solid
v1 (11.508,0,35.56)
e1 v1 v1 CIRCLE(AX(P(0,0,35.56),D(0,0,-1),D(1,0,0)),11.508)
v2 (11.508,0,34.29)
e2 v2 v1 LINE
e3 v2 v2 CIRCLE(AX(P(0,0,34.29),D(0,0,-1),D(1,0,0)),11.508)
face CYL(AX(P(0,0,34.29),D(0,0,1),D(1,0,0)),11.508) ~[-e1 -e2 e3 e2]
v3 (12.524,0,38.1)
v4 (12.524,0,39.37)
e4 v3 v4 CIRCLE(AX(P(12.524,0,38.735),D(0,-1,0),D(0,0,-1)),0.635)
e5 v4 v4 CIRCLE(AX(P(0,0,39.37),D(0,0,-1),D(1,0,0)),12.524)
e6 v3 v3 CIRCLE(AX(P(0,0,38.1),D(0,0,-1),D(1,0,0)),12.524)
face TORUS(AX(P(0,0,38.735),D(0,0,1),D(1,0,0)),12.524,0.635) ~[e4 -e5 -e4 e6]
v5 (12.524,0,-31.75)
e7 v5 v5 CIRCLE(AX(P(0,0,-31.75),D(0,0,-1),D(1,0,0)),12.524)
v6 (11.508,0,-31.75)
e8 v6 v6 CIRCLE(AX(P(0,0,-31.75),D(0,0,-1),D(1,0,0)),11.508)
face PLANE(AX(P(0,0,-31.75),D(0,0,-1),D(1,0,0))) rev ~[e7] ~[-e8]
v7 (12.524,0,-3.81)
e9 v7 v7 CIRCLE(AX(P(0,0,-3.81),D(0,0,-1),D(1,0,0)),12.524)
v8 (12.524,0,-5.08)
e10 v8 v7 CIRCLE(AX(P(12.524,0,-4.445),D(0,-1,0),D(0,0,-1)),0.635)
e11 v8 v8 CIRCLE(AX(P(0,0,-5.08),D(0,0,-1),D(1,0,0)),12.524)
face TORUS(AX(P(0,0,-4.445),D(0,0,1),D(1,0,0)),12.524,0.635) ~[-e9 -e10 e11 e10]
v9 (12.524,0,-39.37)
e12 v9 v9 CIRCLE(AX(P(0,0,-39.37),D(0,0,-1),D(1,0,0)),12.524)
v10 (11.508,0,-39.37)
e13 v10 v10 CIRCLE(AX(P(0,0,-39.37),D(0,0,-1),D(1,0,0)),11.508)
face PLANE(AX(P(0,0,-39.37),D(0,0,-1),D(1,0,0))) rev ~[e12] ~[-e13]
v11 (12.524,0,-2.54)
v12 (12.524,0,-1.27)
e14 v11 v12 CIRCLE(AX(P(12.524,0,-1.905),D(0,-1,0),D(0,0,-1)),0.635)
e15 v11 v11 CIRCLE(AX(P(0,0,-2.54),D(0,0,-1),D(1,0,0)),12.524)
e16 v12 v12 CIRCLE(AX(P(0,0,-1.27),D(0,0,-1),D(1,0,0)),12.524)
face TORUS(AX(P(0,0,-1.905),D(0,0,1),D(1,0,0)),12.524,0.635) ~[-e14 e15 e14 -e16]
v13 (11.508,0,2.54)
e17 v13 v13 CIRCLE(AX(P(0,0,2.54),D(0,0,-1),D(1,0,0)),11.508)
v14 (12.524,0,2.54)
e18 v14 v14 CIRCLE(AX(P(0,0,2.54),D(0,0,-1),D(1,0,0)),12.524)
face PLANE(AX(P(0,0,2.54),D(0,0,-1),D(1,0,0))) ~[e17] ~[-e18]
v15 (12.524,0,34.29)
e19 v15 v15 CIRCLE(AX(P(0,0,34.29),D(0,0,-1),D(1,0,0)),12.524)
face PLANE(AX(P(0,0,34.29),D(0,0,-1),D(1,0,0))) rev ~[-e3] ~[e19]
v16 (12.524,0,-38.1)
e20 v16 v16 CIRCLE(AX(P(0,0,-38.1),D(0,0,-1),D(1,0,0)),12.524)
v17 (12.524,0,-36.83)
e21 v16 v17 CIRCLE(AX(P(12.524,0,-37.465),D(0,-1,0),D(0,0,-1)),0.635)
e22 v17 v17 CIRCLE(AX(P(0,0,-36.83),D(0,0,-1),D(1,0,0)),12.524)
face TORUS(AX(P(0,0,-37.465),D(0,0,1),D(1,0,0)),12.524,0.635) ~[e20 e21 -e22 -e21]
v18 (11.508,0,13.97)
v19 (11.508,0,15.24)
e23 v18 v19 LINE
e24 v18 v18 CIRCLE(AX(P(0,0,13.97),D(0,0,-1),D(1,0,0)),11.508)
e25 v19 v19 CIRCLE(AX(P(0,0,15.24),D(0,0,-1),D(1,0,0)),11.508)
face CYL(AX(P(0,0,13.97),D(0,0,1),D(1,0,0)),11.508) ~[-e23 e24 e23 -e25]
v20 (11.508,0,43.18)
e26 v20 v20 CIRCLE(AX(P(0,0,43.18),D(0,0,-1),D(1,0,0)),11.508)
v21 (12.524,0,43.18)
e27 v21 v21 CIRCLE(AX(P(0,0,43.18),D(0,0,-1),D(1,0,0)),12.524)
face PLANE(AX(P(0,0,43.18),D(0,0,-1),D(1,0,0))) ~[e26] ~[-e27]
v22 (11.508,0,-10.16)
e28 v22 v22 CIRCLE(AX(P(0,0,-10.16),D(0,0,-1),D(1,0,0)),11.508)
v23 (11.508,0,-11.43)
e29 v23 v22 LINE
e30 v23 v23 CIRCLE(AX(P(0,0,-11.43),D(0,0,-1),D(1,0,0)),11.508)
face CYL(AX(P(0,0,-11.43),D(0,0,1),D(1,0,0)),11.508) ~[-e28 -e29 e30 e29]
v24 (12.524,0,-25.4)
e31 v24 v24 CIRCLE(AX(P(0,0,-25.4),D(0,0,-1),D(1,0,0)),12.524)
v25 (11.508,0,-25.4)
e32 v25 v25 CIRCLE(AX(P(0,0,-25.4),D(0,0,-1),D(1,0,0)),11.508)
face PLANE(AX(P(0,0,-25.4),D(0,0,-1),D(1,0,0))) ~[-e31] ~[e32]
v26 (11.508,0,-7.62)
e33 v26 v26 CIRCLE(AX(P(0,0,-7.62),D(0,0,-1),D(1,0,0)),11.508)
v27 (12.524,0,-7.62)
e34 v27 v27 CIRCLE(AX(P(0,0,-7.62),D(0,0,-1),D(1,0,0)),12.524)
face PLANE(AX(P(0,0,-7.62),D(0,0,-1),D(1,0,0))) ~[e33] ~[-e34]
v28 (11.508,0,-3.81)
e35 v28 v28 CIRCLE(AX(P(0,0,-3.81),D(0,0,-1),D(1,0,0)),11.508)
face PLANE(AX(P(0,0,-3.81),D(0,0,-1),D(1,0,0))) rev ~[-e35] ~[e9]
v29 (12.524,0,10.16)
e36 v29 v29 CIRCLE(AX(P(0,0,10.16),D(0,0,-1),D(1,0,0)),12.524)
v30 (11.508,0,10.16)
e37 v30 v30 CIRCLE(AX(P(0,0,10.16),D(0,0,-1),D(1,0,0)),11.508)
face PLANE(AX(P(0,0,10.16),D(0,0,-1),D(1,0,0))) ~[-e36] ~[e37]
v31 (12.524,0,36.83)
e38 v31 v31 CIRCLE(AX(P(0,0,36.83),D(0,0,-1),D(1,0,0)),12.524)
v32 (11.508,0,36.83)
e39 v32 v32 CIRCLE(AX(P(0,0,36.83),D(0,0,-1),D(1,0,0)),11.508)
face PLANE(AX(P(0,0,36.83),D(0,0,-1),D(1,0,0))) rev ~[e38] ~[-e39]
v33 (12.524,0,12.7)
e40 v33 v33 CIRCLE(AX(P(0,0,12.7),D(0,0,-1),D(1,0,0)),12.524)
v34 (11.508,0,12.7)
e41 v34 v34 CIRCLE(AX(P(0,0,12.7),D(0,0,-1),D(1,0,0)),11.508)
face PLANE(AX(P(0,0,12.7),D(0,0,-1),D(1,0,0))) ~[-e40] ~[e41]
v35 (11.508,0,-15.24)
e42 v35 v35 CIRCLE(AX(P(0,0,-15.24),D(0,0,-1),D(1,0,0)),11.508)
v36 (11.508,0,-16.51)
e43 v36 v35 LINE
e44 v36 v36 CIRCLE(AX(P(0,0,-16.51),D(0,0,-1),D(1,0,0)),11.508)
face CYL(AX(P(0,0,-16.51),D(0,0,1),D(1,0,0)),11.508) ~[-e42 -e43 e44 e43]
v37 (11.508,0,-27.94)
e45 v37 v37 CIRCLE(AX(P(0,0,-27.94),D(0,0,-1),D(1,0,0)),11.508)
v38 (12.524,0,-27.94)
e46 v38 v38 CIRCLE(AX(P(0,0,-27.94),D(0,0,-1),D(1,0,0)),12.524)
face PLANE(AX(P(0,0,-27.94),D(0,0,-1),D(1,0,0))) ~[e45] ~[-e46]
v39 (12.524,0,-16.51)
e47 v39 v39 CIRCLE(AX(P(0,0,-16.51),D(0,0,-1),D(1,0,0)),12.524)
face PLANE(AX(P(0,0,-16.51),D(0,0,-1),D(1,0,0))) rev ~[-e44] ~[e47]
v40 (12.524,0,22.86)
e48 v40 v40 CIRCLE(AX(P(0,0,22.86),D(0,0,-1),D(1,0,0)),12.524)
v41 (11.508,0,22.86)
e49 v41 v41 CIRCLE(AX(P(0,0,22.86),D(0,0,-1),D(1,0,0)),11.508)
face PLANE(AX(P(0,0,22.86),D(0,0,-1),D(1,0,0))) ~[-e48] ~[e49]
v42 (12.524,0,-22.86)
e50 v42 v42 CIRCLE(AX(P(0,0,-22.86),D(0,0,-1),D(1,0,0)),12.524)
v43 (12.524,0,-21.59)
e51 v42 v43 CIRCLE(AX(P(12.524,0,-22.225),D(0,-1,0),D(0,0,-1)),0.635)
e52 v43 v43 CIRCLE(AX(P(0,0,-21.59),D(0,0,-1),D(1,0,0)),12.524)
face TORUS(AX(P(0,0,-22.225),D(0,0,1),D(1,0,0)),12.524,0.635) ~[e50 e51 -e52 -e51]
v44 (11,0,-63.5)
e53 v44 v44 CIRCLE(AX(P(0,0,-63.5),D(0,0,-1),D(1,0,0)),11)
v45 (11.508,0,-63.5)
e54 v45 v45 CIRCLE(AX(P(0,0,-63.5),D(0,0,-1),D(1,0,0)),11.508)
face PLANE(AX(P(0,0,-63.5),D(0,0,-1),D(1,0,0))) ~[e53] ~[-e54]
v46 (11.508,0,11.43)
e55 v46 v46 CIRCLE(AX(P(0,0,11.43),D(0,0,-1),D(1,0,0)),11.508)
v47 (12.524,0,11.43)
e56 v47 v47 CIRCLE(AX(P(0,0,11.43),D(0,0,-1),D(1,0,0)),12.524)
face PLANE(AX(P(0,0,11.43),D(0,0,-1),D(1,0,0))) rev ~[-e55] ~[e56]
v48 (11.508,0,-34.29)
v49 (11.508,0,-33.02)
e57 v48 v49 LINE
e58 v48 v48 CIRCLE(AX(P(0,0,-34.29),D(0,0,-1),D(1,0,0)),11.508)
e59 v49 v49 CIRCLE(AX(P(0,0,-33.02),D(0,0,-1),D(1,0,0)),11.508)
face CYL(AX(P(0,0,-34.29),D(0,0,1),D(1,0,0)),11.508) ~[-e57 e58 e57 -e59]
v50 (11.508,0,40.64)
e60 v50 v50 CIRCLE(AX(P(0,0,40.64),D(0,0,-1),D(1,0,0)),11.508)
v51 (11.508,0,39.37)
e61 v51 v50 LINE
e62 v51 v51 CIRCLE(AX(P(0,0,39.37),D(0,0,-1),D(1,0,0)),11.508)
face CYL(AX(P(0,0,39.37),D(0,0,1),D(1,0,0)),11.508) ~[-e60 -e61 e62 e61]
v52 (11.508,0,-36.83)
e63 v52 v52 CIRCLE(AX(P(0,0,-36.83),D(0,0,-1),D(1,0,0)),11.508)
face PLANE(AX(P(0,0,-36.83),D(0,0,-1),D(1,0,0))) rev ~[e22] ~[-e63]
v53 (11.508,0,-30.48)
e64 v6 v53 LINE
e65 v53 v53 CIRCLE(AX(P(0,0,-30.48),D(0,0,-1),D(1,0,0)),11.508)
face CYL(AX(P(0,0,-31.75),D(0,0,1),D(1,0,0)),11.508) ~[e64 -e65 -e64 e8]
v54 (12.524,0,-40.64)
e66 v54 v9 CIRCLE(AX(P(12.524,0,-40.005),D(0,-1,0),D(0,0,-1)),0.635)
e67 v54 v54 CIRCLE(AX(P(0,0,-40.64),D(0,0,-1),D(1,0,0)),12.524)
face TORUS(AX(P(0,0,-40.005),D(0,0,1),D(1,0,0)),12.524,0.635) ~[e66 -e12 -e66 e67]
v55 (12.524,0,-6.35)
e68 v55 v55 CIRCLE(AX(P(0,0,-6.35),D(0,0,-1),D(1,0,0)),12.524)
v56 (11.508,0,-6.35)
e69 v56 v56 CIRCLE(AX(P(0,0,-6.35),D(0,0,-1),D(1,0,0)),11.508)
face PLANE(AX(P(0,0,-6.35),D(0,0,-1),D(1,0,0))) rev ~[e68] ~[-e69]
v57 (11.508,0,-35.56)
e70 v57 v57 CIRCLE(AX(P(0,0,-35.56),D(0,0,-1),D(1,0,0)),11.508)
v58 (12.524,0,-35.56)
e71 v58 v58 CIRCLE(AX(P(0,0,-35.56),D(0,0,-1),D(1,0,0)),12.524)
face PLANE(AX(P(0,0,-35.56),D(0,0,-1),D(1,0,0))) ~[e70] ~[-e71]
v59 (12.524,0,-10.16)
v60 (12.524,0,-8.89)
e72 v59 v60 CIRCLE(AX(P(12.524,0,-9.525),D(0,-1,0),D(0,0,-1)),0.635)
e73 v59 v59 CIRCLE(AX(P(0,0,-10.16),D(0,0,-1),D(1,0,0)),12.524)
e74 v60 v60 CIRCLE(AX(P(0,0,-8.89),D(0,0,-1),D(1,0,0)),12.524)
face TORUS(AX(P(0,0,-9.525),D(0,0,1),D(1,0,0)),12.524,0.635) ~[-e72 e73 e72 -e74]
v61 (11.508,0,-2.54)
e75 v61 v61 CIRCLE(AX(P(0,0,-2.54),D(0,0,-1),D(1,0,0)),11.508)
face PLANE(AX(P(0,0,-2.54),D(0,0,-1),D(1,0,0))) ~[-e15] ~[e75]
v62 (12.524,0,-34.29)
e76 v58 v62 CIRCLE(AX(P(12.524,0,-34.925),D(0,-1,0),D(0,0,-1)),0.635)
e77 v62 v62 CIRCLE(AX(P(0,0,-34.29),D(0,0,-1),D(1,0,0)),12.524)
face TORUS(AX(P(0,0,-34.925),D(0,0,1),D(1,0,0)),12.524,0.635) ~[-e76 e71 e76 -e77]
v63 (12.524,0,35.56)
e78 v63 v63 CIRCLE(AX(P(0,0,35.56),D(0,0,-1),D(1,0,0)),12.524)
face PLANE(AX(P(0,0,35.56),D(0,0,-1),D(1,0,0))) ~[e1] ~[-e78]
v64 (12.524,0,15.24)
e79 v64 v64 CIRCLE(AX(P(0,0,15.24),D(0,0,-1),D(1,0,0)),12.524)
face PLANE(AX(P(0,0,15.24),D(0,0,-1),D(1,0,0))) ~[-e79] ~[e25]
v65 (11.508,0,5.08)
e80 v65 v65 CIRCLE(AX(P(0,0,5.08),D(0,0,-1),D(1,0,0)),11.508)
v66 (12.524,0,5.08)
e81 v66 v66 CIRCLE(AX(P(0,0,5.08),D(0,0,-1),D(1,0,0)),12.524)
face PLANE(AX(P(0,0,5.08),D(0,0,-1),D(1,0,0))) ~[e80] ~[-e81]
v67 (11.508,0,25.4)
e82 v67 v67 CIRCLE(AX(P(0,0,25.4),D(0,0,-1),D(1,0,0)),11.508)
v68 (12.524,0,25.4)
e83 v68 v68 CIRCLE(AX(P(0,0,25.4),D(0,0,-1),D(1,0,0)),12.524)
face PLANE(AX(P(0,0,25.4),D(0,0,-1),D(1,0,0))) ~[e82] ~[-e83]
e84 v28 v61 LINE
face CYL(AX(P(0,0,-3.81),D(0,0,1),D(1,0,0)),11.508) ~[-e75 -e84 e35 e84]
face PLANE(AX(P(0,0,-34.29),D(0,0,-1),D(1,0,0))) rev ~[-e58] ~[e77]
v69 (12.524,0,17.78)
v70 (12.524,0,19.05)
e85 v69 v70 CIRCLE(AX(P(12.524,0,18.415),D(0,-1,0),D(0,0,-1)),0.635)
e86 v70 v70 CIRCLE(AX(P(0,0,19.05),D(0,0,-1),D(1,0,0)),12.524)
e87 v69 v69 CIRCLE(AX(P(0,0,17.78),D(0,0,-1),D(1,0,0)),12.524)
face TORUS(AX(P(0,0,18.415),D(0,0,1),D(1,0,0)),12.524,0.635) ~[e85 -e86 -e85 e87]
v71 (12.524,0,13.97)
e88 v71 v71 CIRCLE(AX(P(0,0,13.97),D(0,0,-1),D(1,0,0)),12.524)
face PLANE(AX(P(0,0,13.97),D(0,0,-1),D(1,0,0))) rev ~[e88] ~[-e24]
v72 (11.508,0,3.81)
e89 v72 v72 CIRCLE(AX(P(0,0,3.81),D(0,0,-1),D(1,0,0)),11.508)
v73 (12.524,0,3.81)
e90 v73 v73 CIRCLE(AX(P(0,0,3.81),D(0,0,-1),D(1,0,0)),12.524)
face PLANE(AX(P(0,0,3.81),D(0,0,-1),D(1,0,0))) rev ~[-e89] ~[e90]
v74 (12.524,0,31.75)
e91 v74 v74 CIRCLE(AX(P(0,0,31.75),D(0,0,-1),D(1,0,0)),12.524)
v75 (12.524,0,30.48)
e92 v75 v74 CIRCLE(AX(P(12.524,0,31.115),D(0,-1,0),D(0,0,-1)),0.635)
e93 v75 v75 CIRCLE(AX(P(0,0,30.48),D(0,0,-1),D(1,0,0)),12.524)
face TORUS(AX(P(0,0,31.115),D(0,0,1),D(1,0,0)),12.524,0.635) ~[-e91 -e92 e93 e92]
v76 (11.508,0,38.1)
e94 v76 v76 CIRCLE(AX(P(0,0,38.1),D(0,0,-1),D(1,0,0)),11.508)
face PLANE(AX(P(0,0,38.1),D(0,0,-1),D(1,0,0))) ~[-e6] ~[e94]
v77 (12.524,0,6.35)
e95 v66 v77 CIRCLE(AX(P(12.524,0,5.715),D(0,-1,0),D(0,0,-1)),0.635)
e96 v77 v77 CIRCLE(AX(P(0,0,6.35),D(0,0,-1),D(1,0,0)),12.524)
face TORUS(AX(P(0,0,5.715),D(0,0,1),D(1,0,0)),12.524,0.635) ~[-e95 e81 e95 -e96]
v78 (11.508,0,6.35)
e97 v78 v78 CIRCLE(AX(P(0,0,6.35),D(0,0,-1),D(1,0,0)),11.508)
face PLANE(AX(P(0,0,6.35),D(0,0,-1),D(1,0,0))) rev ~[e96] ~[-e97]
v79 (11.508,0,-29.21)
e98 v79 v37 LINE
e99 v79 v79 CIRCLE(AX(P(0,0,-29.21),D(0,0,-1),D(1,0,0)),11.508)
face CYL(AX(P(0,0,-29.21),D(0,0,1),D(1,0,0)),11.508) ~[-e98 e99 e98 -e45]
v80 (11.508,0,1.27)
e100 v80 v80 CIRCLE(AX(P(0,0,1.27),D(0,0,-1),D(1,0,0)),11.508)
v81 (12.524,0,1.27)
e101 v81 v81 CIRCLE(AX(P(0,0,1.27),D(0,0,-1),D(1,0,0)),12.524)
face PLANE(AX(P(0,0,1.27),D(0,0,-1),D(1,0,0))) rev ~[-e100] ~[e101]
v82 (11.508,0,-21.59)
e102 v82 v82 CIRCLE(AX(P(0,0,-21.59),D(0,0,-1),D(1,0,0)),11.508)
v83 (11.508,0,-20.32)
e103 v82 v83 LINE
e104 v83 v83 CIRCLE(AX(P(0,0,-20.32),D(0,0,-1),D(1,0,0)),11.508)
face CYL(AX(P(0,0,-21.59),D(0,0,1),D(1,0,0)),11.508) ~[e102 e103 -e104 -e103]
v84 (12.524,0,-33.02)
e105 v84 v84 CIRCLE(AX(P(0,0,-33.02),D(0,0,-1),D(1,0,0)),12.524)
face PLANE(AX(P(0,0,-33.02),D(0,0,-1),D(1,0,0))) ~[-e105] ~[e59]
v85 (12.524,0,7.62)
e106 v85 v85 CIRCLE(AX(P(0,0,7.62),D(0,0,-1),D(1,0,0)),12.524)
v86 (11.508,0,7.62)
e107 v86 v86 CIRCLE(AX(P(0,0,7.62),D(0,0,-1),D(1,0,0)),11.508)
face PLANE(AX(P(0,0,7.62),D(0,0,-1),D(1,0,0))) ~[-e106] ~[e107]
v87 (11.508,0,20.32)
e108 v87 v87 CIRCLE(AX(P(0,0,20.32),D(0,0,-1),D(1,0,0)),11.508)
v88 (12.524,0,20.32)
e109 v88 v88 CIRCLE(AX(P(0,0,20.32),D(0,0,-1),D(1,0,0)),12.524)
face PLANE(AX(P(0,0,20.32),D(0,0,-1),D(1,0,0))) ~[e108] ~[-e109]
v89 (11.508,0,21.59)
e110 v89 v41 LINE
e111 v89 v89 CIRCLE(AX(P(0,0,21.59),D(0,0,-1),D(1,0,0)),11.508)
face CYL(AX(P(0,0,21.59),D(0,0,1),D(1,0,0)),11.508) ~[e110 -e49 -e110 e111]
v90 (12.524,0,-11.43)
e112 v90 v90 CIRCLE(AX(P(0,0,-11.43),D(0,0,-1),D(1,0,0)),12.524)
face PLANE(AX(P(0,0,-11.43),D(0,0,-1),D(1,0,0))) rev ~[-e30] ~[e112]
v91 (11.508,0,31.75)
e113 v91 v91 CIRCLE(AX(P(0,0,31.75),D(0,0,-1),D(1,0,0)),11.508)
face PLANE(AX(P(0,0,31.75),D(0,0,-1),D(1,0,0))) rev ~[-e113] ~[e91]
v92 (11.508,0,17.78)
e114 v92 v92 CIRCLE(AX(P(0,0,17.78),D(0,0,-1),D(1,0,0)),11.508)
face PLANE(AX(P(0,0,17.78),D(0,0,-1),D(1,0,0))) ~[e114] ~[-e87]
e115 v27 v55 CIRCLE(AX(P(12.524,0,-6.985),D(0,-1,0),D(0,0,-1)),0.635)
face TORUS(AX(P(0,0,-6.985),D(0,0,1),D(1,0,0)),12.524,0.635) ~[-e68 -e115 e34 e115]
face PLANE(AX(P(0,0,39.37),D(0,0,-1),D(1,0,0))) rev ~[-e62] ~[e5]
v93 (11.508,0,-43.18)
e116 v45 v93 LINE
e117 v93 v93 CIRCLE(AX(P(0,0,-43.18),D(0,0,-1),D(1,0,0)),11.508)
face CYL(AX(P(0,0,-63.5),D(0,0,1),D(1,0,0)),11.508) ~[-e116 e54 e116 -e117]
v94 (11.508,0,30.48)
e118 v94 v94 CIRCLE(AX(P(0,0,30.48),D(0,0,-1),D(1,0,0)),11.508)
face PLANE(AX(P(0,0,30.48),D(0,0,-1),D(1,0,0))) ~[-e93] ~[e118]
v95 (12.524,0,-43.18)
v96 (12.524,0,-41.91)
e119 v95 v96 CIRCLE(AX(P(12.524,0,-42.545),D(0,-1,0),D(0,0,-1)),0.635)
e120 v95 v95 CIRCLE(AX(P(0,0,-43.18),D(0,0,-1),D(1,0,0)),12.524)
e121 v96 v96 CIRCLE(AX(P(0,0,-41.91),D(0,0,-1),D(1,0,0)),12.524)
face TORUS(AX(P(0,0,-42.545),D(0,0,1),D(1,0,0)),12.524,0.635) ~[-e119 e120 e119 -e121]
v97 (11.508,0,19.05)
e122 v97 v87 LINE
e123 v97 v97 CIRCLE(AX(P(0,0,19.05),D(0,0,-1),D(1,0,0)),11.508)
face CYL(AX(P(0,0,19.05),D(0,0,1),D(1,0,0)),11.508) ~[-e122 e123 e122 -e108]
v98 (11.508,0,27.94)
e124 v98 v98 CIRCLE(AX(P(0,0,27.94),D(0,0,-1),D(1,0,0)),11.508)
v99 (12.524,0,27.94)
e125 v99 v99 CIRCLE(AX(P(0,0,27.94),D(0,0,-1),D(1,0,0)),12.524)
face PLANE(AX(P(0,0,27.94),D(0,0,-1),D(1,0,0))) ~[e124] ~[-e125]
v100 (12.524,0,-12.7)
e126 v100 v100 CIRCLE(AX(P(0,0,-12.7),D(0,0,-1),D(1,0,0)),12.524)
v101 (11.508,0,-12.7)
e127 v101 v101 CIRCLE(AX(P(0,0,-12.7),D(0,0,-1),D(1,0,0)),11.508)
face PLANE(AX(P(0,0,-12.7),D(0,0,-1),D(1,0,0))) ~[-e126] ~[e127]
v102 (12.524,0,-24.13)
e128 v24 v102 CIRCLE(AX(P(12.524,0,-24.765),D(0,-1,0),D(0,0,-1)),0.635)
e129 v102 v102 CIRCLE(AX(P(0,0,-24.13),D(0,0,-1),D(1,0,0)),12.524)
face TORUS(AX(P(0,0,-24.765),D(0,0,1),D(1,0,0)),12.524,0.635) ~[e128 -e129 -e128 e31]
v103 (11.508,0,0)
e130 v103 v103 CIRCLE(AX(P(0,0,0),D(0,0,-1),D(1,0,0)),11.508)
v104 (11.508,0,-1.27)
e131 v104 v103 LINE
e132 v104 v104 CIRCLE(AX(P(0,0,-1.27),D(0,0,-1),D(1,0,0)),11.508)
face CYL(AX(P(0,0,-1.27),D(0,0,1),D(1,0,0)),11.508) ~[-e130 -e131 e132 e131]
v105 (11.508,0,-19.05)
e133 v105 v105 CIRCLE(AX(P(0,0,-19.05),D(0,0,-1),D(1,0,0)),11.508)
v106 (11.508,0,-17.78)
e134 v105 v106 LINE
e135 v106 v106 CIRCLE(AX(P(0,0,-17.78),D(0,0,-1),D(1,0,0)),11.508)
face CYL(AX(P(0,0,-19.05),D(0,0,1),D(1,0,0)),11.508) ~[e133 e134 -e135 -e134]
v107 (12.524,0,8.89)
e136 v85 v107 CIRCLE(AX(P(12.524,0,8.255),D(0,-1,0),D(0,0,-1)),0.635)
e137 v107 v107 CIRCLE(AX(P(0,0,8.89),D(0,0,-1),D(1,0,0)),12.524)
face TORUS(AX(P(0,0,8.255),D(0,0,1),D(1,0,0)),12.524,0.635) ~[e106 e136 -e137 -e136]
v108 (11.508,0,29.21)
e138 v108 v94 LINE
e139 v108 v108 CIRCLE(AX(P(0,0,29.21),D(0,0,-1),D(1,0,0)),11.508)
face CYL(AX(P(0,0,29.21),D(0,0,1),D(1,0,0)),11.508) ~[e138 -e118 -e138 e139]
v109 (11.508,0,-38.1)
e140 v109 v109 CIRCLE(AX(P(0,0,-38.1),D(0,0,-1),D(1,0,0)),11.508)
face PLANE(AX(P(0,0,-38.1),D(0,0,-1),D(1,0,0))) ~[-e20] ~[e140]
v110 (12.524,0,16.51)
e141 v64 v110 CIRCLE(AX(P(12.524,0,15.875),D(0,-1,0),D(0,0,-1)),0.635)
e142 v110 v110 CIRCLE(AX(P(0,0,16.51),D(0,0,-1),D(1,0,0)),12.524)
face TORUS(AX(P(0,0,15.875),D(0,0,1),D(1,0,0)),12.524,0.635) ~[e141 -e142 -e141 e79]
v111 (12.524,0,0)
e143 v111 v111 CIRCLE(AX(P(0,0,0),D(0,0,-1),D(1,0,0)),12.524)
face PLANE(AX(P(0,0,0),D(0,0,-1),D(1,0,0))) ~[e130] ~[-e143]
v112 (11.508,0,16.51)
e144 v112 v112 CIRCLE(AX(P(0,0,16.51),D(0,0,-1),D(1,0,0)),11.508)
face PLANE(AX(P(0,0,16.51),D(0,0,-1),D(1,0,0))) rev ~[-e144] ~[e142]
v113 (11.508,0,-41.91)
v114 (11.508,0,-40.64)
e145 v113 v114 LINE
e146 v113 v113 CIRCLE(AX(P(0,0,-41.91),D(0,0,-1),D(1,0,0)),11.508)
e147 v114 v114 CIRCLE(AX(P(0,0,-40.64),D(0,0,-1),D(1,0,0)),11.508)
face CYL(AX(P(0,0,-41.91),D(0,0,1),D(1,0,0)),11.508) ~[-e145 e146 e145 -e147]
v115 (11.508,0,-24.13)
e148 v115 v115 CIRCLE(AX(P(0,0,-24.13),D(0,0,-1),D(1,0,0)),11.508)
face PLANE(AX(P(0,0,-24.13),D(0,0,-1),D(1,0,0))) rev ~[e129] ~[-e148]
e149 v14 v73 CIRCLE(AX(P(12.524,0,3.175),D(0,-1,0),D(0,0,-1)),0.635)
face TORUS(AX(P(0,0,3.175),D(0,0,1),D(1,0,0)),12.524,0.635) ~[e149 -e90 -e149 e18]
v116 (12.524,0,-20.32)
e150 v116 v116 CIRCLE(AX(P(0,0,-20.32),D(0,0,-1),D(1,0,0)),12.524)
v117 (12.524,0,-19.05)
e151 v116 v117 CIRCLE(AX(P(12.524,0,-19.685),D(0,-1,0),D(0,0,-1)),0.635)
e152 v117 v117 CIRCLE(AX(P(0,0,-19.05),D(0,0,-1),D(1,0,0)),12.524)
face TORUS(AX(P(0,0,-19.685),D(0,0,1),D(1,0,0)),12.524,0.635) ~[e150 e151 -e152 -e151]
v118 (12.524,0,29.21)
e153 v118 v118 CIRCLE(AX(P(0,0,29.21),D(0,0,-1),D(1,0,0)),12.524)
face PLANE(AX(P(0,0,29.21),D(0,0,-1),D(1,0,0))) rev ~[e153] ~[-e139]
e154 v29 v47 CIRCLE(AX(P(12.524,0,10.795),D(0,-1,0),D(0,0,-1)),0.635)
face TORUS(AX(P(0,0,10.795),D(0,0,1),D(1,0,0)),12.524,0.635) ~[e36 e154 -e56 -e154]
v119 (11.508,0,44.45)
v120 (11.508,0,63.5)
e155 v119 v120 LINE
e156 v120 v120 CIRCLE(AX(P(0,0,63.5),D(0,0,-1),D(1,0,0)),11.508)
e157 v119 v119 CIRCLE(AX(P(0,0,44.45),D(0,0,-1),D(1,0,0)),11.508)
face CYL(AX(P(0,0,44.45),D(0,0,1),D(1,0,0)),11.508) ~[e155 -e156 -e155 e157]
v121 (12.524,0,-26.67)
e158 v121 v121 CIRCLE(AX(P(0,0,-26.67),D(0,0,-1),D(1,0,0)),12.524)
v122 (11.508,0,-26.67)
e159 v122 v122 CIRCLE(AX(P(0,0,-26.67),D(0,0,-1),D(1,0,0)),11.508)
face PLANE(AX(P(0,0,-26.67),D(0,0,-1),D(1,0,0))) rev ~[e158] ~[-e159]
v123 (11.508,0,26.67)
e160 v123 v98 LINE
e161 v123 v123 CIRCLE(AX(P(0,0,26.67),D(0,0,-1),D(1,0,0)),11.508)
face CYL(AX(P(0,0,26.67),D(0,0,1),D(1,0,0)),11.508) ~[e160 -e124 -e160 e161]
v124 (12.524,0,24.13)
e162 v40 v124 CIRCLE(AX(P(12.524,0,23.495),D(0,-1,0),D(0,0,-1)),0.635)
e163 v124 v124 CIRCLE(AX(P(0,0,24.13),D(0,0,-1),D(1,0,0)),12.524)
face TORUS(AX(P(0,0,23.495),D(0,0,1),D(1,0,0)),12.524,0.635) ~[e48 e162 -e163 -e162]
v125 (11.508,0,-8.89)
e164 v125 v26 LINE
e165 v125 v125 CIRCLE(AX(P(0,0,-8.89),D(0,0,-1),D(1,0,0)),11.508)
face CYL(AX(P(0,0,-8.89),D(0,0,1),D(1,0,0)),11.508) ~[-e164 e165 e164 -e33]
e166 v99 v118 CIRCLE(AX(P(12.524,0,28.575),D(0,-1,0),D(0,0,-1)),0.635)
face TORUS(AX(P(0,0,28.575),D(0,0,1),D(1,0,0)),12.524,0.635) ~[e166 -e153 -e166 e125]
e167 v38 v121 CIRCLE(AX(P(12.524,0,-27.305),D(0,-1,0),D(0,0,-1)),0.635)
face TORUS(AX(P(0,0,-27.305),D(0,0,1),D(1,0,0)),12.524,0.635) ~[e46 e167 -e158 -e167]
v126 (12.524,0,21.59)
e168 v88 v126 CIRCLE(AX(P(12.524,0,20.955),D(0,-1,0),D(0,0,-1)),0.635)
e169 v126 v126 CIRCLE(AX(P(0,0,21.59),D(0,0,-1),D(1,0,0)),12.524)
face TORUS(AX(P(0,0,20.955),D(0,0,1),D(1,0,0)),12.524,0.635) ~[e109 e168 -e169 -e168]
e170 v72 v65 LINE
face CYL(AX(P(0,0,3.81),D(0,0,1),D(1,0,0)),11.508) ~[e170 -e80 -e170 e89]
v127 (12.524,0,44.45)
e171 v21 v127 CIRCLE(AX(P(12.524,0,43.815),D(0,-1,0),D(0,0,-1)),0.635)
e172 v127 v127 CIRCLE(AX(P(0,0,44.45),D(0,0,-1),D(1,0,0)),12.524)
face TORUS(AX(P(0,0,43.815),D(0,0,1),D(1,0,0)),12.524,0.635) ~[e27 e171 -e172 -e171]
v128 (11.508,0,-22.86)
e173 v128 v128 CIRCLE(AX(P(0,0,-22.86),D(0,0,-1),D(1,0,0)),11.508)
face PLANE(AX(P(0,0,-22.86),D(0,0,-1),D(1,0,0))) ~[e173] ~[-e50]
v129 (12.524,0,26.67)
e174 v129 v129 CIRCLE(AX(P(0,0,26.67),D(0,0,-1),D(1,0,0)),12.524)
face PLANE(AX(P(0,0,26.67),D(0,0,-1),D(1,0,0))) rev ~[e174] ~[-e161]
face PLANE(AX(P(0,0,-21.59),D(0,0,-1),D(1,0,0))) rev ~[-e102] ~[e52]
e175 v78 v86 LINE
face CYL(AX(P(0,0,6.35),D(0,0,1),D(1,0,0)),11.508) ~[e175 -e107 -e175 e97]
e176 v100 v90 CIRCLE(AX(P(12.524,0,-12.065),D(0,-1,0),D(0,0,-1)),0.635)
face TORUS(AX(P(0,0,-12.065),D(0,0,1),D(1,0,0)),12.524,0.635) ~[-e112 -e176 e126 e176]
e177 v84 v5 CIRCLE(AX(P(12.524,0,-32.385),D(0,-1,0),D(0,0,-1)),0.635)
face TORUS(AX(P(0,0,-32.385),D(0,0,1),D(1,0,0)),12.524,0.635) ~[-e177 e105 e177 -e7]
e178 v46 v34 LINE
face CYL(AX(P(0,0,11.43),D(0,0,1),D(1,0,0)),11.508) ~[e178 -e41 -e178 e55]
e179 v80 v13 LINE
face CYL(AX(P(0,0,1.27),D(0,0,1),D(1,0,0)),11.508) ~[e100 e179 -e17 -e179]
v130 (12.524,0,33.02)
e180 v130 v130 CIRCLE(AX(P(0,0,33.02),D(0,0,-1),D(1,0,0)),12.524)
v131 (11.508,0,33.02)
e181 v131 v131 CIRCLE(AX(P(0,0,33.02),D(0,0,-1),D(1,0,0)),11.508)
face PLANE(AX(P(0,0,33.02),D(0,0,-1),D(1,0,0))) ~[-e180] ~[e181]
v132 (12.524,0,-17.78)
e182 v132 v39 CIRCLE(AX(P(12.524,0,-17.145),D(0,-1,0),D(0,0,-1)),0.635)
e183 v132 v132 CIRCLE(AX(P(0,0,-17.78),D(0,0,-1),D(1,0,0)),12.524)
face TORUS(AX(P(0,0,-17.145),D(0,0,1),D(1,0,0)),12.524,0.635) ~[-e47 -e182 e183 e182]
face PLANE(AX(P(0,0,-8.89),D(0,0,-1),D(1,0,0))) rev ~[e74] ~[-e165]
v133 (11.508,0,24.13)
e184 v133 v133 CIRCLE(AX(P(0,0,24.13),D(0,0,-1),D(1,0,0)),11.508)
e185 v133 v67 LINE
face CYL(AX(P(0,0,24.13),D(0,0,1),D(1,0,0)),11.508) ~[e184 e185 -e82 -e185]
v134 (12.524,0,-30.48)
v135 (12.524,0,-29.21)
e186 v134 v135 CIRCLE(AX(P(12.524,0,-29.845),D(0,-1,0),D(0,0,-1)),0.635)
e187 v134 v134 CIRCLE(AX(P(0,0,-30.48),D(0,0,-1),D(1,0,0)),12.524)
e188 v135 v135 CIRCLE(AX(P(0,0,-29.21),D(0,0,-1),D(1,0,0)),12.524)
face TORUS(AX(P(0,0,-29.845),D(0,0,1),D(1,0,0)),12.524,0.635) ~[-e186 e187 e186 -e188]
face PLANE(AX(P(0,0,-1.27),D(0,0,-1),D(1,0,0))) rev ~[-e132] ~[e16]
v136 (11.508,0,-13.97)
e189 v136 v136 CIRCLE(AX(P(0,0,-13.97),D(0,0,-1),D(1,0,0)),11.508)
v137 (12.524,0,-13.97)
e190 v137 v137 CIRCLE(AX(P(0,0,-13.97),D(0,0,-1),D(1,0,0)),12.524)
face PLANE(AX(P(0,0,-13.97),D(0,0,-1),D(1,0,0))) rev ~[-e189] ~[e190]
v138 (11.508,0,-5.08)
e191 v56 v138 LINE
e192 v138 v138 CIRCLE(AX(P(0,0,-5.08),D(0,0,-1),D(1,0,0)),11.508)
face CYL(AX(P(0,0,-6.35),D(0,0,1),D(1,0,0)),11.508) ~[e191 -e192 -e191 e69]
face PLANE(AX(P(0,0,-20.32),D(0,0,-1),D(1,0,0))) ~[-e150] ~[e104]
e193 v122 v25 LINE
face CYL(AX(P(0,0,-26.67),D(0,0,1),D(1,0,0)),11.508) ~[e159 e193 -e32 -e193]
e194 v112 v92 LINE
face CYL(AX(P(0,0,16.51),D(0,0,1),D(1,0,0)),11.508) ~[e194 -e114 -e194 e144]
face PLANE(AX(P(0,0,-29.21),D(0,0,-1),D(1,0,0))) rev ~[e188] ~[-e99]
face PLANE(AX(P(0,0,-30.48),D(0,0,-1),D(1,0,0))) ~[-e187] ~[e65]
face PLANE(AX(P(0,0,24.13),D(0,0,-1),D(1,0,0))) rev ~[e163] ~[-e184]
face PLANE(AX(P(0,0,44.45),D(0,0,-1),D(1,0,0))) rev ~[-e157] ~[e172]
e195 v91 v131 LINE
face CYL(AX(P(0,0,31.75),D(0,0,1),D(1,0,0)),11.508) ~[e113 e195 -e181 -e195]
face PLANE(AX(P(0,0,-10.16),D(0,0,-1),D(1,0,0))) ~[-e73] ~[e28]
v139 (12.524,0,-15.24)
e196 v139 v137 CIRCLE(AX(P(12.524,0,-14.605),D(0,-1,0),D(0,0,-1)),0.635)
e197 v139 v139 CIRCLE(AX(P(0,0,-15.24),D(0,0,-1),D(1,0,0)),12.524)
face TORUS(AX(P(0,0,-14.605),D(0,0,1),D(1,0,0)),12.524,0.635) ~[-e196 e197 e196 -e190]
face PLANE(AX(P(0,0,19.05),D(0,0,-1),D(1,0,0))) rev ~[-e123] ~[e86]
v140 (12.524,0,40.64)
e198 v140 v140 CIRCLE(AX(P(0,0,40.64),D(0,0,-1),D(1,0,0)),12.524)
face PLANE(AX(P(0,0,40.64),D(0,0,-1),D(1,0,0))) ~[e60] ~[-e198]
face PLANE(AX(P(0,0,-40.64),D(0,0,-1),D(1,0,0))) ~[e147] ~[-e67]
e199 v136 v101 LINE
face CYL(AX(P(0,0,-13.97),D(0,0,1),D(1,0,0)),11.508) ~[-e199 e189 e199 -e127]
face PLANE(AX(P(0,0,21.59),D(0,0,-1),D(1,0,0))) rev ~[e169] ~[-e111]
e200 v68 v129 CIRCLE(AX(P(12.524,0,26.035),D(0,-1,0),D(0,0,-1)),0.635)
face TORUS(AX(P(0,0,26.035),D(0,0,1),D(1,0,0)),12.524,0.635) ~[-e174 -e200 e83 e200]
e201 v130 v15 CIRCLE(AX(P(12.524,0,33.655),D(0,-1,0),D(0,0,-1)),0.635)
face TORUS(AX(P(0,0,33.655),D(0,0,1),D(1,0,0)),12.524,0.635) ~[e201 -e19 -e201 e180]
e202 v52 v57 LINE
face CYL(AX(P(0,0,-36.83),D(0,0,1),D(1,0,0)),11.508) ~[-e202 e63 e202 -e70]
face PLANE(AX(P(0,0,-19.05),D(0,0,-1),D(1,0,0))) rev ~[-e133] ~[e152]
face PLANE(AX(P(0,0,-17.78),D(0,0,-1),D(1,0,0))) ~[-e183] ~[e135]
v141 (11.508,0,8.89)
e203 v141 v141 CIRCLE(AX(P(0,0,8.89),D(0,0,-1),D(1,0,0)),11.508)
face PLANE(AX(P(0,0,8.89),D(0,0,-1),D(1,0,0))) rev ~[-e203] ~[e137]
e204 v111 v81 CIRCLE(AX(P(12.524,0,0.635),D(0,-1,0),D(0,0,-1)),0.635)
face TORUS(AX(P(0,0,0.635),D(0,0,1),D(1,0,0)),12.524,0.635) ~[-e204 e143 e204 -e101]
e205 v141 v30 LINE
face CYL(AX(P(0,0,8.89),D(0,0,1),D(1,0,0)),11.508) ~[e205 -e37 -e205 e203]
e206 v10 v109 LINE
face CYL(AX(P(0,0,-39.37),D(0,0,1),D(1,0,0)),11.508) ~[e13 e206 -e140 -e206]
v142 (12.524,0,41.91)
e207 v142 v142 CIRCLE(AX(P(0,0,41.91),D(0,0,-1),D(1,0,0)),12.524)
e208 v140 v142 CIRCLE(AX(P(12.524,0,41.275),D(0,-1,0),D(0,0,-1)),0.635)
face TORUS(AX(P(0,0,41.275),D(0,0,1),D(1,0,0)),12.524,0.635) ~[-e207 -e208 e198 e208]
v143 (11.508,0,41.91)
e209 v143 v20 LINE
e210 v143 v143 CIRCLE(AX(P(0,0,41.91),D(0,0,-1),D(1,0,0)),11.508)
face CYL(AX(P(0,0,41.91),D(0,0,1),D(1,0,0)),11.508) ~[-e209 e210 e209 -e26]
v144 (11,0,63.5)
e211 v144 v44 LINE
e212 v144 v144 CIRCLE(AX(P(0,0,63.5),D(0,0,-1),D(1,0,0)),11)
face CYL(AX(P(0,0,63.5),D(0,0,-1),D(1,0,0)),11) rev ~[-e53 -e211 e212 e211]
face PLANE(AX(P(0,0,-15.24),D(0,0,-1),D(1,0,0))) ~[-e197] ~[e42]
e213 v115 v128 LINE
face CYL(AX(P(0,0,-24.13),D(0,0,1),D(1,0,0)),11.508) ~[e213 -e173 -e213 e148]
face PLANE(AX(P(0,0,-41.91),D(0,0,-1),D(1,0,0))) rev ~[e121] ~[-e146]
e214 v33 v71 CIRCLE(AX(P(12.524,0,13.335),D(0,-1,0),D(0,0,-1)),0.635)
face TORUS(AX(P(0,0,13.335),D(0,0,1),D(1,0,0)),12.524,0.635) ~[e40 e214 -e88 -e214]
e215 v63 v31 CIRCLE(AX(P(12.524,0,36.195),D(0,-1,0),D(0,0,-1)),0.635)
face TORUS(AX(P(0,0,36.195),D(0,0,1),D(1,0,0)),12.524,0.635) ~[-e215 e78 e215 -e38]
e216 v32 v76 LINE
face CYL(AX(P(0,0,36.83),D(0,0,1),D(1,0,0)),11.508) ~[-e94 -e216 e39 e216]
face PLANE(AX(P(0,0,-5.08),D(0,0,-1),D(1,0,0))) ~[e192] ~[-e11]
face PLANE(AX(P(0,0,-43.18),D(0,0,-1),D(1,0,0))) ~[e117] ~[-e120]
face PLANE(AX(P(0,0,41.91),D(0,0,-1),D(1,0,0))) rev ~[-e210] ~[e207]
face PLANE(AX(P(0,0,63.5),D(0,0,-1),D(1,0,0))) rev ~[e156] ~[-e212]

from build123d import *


with BuildPart() as part:
    # Sketch1 → Revolve1 (revolve)
    with BuildSketch(Plane(origin=(0, 0, 0), x_dir=(0, 0, -1), z_dir=(1, 0, 0))):
        with BuildLine():
            Line((-63.5, 11.508), (-63.5, 11))
            Line((-63.5, 11), (-44.45, 11))
            Line((-44.45, 11), (44.45, 11))
            Line((44.45, 11), (63.5, 11))
            Line((63.5, 11), (63.5, 11.508))
            Line((63.5, 11.508), (44.45, 11.508))
            Line((44.45, 11.508), (43.18, 11.508))
            Line((43.18, 11.508), (43.18, 12.524))
            ThreePointArc((43.18, 12.524), (42.545, 13.159), (41.91, 12.524))
            Line((41.91, 12.524), (41.91, 11.508))
            Line((41.91, 11.508), (40.64, 11.508))
            Line((40.64, 11.508), (40.64, 12.524))
            ThreePointArc((40.64, 12.524), (40.005, 13.159), (39.37, 12.524))
            Line((39.37, 12.524), (39.37, 11.508))
            Line((39.37, 11.508), (38.1, 11.508))
            Line((38.1, 11.508), (38.1, 12.524))
            ThreePointArc((38.1, 12.524), (37.465, 13.159), (36.83, 12.524))
            Line((36.83, 12.524), (36.83, 11.508))
            Line((36.83, 11.508), (35.56, 11.508))
            Line((35.56, 11.508), (35.56, 12.524))
            ThreePointArc((35.56, 12.524), (34.925, 13.159), (34.29, 12.524))
            Line((34.29, 12.524), (34.29, 11.508))
            Line((34.29, 11.508), (33.02, 11.508))
            Line((33.02, 11.508), (33.02, 12.524))
            ThreePointArc((33.02, 12.524), (32.385, 13.159), (31.75, 12.524))
            Line((31.75, 12.524), (31.75, 11.508))
            Line((31.75, 11.508), (30.48, 11.508))
            Line((30.48, 11.508), (30.48, 12.524))
            ThreePointArc((30.48, 12.524), (29.845, 13.159), (29.21, 12.524))
            Line((29.21, 12.524), (29.21, 11.508))
            Line((29.21, 11.508), (27.94, 11.508))
            Line((27.94, 11.508), (27.94, 12.524))
            ThreePointArc((27.94, 12.524), (27.305, 13.159), (26.67, 12.524))
            Line((26.67, 12.524), (26.67, 11.508))
            Line((26.67, 11.508), (25.4, 11.508))
            Line((25.4, 11.508), (25.4, 12.524))
            ThreePointArc((25.4, 12.524), (24.765, 13.159), (24.13, 12.524))
            Line((24.13, 12.524), (24.13, 11.508))
            Line((24.13, 11.508), (22.86, 11.508))
            Line((22.86, 11.508), (22.86, 12.524))
            ThreePointArc((22.86, 12.524), (22.225, 13.159), (21.59, 12.524))
            Line((21.59, 12.524), (21.59, 11.508))
            Line((21.59, 11.508), (20.32, 11.508))
            Line((20.32, 11.508), (20.32, 12.524))
            ThreePointArc((20.32, 12.524), (19.685, 13.159), (19.05, 12.524))
            Line((19.05, 12.524), (19.05, 11.508))
            Line((19.05, 11.508), (17.78, 11.508))
            Line((17.78, 11.508), (17.78, 12.524))
            ThreePointArc((17.78, 12.524), (17.145, 13.159), (16.51, 12.524))
            Line((16.51, 12.524), (16.51, 11.508))
            Line((16.51, 11.508), (15.24, 11.508))
            Line((15.24, 11.508), (15.24, 12.524))
            ThreePointArc((15.24, 12.524), (14.605, 13.159), (13.97, 12.524))
            Line((13.97, 12.524), (13.97, 11.508))
            Line((13.97, 11.508), (12.7, 11.508))
            Line((12.7, 11.508), (12.7, 12.524))
            ThreePointArc((12.7, 12.524), (12.065, 13.159), (11.43, 12.524))
            Line((11.43, 12.524), (11.43, 11.508))
            Line((11.43, 11.508), (10.16, 11.508))
            Line((10.16, 11.508), (10.16, 12.524))
            ThreePointArc((10.16, 12.524), (9.525, 13.159), (8.89, 12.524))
            Line((8.89, 12.524), (8.89, 11.508))
            Line((8.89, 11.508), (7.62, 11.508))
            Line((7.62, 11.508), (7.62, 12.524))
            ThreePointArc((7.62, 12.524), (6.985, 13.159), (6.35, 12.524))
            Line((6.35, 12.524), (6.35, 11.508))
            Line((6.35, 11.508), (5.08, 11.508))
            Line((5.08, 11.508), (5.08, 12.524))
            ThreePointArc((5.08, 12.524), (4.445, 13.159), (3.81, 12.524))
            Line((3.81, 12.524), (3.81, 11.508))
            Line((3.81, 11.508), (2.54, 11.508))
            Line((2.54, 11.508), (2.54, 12.524))
            ThreePointArc((2.54, 12.524), (1.905, 13.159), (1.27, 12.524))
            Line((1.27, 12.524), (1.27, 11.508))
            Line((1.27, 11.508), (0, 11.508))
            Line((0, 11.508), (0, 12.524))
            ThreePointArc((0, 12.524), (-0.635, 13.159), (-1.27, 12.524))
            Line((-1.27, 12.524), (-1.27, 11.508))
            Line((-1.27, 11.508), (-2.54, 11.508))
            Line((-2.54, 11.508), (-2.54, 12.524))
            ThreePointArc((-2.54, 12.524), (-3.175, 13.159), (-3.81, 12.524))
            Line((-3.81, 12.524), (-3.81, 11.508))
            Line((-3.81, 11.508), (-5.08, 11.508))
            Line((-5.08, 11.508), (-5.08, 12.524))
            ThreePointArc((-5.08, 12.524), (-5.715, 13.159), (-6.35, 12.524))
            Line((-6.35, 12.524), (-6.35, 11.508))
            Line((-6.35, 11.508), (-7.62, 11.508))
            Line((-7.62, 11.508), (-7.62, 12.524))
            ThreePointArc((-7.62, 12.524), (-8.255, 13.159), (-8.89, 12.524))
            Line((-8.89, 12.524), (-8.89, 11.508))
            Line((-8.89, 11.508), (-10.16, 11.508))
            Line((-10.16, 11.508), (-10.16, 12.524))
            ThreePointArc((-10.16, 12.524), (-10.795, 13.159), (-11.43, 12.524))
            Line((-11.43, 12.524), (-11.43, 11.508))
            Line((-11.43, 11.508), (-12.7, 11.508))
            Line((-12.7, 11.508), (-12.7, 12.524))
            ThreePointArc((-12.7, 12.524), (-13.335, 13.159), (-13.97, 12.524))
            Line((-13.97, 12.524), (-13.97, 11.508))
            Line((-13.97, 11.508), (-15.24, 11.508))
            Line((-15.24, 11.508), (-15.24, 12.524))
            ThreePointArc((-15.24, 12.524), (-15.875, 13.159), (-16.51, 12.524))
            Line((-16.51, 12.524), (-16.51, 11.508))
            Line((-16.51, 11.508), (-17.78, 11.508))
            Line((-17.78, 11.508), (-17.78, 12.524))
            ThreePointArc((-17.78, 12.524), (-18.415, 13.159), (-19.05, 12.524))
            Line((-19.05, 12.524), (-19.05, 11.508))
            Line((-19.05, 11.508), (-20.32, 11.508))
            Line((-20.32, 11.508), (-20.32, 12.524))
            ThreePointArc((-20.32, 12.524), (-20.955, 13.159), (-21.59, 12.524))
            Line((-21.59, 12.524), (-21.59, 11.508))
            Line((-21.59, 11.508), (-22.86, 11.508))
            Line((-22.86, 11.508), (-22.86, 12.524))
            ThreePointArc((-22.86, 12.524), (-23.495, 13.159), (-24.13, 12.524))
            Line((-24.13, 12.524), (-24.13, 11.508))
            Line((-24.13, 11.508), (-25.4, 11.508))
            Line((-25.4, 11.508), (-25.4, 12.524))
            ThreePointArc((-25.4, 12.524), (-26.035, 13.159), (-26.67, 12.524))
            Line((-26.67, 12.524), (-26.67, 11.508))
            Line((-26.67, 11.508), (-27.94, 11.508))
            Line((-27.94, 11.508), (-27.94, 12.524))
            ThreePointArc((-27.94, 12.524), (-28.575, 13.159), (-29.21, 12.524))
            Line((-29.21, 12.524), (-29.21, 11.508))
            Line((-29.21, 11.508), (-30.48, 11.508))
            Line((-30.48, 11.508), (-30.48, 12.524))
            ThreePointArc((-30.48, 12.524), (-31.115, 13.159), (-31.75, 12.524))
            Line((-31.75, 12.524), (-31.75, 11.508))
            Line((-31.75, 11.508), (-33.02, 11.508))
            Line((-33.02, 11.508), (-33.02, 12.524))
            ThreePointArc((-33.02, 12.524), (-33.655, 13.159), (-34.29, 12.524))
            Line((-34.29, 12.524), (-34.29, 11.508))
            Line((-34.29, 11.508), (-35.56, 11.508))
            Line((-35.56, 11.508), (-35.56, 12.524))
            ThreePointArc((-35.56, 12.524), (-36.195, 13.159), (-36.83, 12.524))
            Line((-36.83, 12.524), (-36.83, 11.508))
            Line((-36.83, 11.508), (-38.1, 11.508))
            Line((-38.1, 11.508), (-38.1, 12.524))
            ThreePointArc((-38.1, 12.524), (-38.735, 13.159), (-39.37, 12.524))
            Line((-39.37, 12.524), (-39.37, 11.508))
            Line((-39.37, 11.508), (-40.64, 11.508))
            Line((-40.64, 11.508), (-40.64, 12.524))
            ThreePointArc((-40.64, 12.524), (-41.275, 13.159), (-41.91, 12.524))
            Line((-41.91, 12.524), (-41.91, 11.508))
            Line((-41.91, 11.508), (-43.18, 11.508))
            Line((-43.18, 11.508), (-43.18, 12.524))
            ThreePointArc((-43.18, 12.524), (-43.815, 13.159), (-44.45, 12.524))
            Line((-44.45, 12.524), (-44.45, 11.508))
            Line((-44.45, 11.508), (-63.5, 11.508))
        make_face()
    revolve(axis=Axis((0, 0, 63.5), (0, 0, -1)))


solid = part.part
